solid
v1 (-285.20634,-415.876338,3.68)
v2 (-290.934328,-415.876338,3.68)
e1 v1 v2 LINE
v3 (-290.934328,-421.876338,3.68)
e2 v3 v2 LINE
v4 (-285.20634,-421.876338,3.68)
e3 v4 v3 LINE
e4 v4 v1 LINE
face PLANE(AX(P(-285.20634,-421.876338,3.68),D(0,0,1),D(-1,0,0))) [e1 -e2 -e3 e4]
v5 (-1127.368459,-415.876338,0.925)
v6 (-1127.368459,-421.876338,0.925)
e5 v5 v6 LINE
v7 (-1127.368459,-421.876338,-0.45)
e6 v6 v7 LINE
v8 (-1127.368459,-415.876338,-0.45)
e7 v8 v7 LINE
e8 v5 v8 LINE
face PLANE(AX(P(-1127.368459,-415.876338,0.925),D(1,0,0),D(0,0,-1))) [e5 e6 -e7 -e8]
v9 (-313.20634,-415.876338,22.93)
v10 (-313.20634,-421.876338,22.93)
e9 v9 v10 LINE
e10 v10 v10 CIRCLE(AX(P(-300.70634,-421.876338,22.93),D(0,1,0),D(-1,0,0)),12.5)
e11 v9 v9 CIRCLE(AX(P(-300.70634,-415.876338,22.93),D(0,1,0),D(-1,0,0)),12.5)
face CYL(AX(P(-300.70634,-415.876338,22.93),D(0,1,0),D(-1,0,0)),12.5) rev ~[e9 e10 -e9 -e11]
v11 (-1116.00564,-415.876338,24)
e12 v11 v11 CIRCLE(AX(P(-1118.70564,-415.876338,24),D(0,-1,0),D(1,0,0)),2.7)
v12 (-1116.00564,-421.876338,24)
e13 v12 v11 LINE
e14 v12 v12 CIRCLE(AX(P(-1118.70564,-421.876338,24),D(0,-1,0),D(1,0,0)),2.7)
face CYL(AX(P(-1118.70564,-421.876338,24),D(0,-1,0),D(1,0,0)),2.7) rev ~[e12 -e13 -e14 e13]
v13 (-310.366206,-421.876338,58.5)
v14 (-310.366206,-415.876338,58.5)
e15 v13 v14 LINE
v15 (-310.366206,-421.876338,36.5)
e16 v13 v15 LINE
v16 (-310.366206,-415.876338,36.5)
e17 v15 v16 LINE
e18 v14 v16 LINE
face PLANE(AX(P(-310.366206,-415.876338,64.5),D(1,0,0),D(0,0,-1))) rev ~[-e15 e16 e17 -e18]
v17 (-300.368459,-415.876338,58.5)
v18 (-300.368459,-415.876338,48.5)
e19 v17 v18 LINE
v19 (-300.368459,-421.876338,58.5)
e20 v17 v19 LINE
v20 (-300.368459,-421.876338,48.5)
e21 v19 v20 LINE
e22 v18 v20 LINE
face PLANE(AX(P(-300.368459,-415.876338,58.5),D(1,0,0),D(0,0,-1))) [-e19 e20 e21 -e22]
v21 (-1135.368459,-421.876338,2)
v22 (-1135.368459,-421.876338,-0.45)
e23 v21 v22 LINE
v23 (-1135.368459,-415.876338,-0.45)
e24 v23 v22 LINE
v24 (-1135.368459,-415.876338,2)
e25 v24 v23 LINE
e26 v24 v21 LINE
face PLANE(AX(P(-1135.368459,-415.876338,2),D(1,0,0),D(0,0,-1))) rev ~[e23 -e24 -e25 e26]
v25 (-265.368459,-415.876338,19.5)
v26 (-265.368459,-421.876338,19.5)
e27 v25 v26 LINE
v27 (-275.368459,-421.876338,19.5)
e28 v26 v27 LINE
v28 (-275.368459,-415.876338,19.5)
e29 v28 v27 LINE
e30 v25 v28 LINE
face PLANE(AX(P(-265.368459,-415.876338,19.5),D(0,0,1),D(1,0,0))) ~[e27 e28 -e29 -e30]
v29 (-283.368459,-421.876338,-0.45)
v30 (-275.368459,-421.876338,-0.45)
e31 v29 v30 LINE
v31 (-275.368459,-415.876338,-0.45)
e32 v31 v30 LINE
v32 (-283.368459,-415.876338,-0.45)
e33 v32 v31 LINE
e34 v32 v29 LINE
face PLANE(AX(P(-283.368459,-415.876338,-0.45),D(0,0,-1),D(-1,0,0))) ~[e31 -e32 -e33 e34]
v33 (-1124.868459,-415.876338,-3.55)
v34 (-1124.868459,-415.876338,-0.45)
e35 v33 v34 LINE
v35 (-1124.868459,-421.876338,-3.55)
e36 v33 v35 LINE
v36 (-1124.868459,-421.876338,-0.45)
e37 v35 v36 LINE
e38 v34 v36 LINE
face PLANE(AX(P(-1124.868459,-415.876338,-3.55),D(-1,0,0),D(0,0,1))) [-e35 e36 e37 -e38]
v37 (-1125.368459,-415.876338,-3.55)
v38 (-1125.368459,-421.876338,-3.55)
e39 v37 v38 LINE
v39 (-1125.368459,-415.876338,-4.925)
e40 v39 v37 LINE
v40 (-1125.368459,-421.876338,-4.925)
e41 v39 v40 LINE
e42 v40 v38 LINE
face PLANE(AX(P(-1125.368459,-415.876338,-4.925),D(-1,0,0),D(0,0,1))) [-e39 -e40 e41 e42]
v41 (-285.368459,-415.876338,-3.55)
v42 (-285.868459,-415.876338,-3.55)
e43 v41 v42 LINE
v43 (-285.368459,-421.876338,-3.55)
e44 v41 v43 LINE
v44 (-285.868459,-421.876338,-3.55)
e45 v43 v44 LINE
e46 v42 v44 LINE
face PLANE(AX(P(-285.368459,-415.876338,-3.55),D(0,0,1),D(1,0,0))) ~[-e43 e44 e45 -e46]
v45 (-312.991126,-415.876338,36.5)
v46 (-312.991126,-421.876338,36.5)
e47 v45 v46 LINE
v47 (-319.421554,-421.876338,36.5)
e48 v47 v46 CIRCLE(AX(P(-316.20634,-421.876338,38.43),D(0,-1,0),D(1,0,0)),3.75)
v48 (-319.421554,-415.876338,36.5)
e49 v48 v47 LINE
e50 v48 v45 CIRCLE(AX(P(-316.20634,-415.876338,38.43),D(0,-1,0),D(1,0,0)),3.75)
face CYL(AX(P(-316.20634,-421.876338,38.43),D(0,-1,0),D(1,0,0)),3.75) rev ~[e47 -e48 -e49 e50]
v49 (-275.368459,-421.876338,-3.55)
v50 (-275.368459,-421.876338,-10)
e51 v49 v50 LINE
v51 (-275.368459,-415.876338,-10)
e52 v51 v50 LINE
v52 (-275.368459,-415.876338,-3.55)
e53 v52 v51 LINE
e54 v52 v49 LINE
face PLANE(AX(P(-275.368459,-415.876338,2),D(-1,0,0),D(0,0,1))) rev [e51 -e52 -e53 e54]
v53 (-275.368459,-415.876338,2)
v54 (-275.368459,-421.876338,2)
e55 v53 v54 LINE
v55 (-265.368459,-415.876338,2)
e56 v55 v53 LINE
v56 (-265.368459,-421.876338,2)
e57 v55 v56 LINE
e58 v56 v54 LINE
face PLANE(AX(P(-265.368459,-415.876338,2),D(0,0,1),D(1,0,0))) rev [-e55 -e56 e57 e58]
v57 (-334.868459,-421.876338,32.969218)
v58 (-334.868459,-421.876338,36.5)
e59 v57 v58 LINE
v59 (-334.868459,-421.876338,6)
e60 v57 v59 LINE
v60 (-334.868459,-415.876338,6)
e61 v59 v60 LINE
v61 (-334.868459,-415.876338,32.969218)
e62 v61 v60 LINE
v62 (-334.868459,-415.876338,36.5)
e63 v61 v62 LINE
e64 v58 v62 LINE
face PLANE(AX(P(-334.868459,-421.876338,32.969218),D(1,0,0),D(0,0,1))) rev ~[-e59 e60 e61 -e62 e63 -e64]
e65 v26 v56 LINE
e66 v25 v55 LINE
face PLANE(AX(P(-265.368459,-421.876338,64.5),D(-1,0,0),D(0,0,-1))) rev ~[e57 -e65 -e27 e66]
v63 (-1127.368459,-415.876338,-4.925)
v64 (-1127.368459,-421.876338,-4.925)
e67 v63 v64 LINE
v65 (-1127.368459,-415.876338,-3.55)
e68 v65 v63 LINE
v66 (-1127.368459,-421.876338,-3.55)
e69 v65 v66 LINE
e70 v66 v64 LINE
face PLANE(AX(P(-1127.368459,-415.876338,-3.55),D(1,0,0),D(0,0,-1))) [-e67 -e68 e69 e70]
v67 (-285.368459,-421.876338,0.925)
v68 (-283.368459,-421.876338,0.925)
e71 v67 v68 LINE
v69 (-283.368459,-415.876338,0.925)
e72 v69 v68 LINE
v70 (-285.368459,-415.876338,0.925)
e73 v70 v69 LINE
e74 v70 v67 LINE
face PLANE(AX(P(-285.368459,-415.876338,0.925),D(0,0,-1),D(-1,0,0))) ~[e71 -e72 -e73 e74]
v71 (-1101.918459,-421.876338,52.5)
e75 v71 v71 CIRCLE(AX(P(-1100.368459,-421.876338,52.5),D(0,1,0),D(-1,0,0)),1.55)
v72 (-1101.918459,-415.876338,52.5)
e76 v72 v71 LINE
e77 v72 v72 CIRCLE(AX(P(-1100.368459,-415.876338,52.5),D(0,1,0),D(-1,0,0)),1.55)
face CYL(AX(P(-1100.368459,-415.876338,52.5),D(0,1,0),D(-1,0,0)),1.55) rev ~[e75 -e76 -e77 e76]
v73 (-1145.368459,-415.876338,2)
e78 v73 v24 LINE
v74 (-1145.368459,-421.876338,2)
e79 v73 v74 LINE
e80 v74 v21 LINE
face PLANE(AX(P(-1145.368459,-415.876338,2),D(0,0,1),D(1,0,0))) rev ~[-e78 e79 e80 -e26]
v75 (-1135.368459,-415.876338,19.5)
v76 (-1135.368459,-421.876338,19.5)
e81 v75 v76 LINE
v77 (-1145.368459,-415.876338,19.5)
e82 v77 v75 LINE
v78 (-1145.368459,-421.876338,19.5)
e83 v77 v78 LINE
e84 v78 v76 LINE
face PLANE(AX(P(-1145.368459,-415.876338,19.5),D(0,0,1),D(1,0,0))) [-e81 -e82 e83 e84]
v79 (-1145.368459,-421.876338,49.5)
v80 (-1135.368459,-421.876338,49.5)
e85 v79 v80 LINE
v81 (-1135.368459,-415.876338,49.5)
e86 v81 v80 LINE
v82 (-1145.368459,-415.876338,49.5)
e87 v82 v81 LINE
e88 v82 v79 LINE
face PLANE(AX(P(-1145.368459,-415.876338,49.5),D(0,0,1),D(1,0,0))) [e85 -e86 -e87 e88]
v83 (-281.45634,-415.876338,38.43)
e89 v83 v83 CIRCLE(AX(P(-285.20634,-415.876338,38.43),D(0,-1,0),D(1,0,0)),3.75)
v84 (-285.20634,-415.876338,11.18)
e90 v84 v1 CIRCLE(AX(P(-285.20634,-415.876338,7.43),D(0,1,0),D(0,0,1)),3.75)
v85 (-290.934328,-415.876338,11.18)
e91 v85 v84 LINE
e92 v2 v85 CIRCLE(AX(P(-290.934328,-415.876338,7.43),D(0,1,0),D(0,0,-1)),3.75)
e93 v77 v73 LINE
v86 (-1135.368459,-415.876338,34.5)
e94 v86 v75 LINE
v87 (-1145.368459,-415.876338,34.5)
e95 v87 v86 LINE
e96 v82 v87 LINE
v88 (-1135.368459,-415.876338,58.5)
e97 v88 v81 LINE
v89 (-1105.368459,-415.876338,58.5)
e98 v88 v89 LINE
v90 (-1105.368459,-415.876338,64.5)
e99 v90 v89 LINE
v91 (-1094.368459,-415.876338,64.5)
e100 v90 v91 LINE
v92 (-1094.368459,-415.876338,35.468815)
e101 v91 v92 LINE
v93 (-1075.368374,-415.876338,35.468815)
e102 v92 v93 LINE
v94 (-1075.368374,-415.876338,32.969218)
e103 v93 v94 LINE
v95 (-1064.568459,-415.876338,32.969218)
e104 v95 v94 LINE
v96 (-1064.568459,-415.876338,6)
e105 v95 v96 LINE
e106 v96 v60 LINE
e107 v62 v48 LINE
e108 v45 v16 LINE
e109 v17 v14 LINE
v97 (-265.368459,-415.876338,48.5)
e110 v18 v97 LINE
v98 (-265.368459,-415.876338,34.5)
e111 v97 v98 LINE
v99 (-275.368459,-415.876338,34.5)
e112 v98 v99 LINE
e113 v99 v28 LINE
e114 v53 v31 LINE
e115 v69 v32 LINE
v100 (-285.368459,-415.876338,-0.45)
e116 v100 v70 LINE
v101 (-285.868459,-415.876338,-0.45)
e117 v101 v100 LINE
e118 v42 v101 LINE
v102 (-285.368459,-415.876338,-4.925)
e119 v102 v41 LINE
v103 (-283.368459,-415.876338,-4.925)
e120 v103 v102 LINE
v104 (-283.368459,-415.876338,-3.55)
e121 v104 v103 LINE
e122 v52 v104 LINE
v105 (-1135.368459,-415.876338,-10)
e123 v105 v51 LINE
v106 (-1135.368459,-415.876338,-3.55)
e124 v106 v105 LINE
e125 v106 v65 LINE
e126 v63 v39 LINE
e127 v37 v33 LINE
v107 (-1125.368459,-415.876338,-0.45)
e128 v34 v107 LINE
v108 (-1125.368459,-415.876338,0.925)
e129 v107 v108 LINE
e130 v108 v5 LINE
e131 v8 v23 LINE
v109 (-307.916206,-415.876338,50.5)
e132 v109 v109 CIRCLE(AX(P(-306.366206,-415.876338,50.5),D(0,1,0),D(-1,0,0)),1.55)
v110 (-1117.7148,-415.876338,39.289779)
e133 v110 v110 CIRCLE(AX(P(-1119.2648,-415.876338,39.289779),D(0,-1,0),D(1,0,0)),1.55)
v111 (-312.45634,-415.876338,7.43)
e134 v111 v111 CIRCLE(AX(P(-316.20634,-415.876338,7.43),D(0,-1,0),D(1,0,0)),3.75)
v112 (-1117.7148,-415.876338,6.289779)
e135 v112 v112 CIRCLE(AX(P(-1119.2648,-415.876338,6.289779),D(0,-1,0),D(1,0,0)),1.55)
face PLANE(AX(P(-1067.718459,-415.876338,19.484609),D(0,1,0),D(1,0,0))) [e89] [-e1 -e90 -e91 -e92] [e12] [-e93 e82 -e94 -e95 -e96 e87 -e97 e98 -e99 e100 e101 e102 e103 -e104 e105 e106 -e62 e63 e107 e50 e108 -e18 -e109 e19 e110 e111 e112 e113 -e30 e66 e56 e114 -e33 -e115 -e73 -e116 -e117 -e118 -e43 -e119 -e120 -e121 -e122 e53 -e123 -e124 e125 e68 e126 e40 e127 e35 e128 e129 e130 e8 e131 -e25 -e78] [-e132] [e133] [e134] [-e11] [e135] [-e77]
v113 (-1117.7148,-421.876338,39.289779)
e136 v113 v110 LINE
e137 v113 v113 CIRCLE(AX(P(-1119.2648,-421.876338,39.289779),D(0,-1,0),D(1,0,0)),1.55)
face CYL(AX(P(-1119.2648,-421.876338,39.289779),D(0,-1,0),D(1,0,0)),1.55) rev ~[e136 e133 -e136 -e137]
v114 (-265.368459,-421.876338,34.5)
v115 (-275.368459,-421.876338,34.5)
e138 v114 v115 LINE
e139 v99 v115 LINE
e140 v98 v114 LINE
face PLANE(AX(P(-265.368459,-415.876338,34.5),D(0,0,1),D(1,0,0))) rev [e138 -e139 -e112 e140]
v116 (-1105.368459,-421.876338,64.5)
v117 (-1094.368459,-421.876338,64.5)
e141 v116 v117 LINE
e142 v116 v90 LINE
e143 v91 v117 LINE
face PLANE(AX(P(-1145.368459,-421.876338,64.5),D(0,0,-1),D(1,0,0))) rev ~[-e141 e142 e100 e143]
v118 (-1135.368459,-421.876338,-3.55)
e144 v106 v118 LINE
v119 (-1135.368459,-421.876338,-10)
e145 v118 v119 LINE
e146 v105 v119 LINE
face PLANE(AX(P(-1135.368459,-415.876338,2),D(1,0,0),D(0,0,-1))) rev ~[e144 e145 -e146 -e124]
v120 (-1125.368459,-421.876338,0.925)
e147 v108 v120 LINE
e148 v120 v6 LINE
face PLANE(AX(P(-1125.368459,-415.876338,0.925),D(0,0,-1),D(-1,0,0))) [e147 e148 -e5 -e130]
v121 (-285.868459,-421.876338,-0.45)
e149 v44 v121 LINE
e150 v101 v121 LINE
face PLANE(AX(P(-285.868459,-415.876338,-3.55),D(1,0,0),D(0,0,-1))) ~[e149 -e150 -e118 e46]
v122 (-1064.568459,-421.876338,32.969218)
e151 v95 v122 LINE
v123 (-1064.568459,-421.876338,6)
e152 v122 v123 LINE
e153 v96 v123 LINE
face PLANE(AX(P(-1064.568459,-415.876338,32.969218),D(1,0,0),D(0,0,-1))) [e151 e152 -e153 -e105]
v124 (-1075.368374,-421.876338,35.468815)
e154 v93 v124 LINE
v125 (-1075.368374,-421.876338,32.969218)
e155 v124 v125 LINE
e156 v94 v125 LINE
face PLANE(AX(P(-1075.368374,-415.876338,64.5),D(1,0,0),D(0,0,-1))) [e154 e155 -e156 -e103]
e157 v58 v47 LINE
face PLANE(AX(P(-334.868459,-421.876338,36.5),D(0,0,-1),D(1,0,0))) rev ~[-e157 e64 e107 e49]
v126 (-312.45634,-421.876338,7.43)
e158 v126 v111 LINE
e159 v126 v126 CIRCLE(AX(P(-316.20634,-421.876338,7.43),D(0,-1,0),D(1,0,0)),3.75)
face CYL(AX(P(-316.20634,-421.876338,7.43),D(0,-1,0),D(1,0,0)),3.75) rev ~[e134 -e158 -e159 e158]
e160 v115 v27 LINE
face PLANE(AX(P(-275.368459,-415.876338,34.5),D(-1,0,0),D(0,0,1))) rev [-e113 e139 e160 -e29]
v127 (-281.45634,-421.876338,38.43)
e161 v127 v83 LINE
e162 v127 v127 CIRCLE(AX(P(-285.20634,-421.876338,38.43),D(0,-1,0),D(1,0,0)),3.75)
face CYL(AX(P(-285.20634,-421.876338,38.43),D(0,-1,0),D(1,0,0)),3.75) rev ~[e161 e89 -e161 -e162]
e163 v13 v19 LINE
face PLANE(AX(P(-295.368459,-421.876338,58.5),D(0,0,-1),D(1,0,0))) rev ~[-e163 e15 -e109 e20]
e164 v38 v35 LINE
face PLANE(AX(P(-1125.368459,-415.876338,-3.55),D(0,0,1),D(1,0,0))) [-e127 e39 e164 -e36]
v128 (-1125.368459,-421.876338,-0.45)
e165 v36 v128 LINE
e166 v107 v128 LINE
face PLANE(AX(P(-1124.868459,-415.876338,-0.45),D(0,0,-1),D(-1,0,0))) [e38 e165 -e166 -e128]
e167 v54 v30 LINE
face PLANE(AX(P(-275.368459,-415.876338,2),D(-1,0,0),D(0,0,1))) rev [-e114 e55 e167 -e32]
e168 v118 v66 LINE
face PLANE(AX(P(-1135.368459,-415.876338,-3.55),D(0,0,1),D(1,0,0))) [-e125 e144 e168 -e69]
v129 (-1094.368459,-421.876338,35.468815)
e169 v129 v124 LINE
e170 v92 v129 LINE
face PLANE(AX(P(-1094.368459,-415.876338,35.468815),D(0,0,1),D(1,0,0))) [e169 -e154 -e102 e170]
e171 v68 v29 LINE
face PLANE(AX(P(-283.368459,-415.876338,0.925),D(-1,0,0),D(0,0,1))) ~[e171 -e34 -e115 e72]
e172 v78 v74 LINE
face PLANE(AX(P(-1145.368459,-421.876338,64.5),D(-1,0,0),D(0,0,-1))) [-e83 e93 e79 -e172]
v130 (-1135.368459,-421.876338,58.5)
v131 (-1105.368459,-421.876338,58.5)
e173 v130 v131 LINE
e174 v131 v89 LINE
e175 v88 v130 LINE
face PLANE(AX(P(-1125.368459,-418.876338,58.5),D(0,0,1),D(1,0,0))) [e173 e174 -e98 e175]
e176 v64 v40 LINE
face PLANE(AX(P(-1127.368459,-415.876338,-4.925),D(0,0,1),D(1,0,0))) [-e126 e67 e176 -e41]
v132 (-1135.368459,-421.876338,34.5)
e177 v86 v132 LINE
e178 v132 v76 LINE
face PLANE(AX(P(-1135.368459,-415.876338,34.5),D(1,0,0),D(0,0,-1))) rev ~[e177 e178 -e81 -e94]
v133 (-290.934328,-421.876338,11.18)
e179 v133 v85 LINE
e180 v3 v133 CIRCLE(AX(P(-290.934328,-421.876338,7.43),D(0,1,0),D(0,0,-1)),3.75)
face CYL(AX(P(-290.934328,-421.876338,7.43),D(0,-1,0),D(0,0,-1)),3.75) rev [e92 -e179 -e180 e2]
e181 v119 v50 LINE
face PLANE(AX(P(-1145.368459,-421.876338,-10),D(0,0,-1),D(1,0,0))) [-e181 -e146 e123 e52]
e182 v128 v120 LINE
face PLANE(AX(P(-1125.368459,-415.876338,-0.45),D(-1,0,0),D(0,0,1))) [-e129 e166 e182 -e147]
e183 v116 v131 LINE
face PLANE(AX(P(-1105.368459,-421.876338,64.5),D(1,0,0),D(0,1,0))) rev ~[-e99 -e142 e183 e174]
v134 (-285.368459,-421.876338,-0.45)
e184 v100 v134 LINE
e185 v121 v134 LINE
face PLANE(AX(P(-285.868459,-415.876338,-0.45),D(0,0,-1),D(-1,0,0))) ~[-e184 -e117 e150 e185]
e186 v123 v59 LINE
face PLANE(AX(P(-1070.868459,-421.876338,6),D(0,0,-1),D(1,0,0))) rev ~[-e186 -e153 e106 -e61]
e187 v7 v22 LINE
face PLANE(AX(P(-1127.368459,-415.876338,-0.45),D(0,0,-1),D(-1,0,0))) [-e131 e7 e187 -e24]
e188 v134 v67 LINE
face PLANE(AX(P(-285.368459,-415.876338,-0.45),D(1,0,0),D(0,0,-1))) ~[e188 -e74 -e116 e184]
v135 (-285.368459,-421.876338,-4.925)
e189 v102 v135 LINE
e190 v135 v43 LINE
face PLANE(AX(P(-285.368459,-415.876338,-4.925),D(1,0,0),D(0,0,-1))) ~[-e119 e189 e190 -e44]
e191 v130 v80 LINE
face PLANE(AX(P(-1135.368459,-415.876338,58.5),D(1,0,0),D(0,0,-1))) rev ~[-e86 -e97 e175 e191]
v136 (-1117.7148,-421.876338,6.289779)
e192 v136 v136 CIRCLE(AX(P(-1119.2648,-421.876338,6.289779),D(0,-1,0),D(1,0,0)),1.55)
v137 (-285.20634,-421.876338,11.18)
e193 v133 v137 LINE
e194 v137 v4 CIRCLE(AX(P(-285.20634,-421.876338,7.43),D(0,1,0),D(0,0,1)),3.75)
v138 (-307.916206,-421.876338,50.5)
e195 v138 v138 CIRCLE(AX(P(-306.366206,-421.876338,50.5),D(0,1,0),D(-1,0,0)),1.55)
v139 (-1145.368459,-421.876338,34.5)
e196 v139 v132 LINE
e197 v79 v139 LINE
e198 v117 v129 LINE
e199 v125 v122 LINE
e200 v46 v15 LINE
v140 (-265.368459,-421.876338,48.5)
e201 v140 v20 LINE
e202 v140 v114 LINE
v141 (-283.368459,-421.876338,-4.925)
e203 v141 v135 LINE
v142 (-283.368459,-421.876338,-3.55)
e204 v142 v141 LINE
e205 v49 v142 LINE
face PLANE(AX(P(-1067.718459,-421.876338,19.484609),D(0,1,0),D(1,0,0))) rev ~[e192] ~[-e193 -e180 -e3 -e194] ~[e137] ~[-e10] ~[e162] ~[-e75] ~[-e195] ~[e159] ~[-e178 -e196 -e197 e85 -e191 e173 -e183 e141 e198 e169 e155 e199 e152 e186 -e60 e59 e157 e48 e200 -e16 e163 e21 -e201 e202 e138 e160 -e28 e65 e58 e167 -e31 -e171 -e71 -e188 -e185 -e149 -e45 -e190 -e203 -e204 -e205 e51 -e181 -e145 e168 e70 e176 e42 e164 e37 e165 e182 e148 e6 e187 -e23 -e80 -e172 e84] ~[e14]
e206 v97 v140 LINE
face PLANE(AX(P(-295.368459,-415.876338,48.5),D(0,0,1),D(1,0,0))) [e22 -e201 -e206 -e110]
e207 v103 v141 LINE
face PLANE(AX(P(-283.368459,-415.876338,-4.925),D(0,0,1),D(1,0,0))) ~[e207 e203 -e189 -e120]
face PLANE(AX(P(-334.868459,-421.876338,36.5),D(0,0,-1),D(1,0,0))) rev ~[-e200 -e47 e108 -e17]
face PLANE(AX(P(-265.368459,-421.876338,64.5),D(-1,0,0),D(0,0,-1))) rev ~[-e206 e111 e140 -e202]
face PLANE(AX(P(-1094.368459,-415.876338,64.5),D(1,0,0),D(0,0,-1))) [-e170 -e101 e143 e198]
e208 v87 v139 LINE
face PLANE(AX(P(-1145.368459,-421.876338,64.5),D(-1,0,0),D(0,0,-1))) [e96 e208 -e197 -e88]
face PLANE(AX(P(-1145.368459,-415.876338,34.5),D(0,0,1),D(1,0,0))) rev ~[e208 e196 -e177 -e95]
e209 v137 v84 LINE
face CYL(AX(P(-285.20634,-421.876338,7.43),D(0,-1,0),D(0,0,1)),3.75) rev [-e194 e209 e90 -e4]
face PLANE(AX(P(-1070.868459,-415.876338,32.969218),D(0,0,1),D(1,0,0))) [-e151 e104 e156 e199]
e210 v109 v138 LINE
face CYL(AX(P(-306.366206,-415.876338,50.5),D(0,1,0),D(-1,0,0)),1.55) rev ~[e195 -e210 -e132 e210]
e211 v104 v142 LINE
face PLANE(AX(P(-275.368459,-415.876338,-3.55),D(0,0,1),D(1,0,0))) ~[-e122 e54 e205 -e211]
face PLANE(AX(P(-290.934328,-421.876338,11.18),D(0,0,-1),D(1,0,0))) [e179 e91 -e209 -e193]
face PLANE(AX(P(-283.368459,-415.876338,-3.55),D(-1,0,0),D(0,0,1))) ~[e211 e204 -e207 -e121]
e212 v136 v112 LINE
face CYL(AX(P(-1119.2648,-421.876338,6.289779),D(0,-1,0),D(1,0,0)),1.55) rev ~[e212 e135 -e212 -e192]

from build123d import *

# Parameters (mm, degrees)
DODANIE_WYCI_GNI_CIE2_DEPTH      = 3
DODANIE_WYCI_GNI_CIE2_DEPTH_BACK = 3
SZKIC1_W                         = 880
SZKIC1_H                         = 74.5
SZKIC1_W_2                       = 736
SZKIC1_H_2                       = 28
SZKIC2_W                         = 40
SZKIC2_H                         = 6
WYTNIJ_WYCI_GNI_CIE1_DEPTH       = 6
SZYK_LINIOWY1_COUNT              = 13
SZYK_LINIOWY1_PITCH              = 91
WYTNIJ_WYCI_GNI_CIE2_DEPTH       = 6
SZKIC4_W                         = 10
SZKIC4_H                         = 15
SZKIC4_H_2                       = 9
SZKIC4_H_3                       = 12
WYTNIJ_WYCI_GNI_CIE3_DEPTH       = 6
WYTNIJ_WYCI_GNI_CIE4_DEPTH       = 6
SZKIC8_R                         = 1.55
SZKIC8_R_2                       = 2.7
WYTNIJ_WYCI_GNI_CIE5_DEPTH       = 6
SZKIC9_R                         = 12.5
WYTNIJ_WYCI_GNI_CIE6_DEPTH       = 6
SZKIC13_W                        = 30
SZKIC13_H                        = 16
WYTNIJ_WYCI_GNI_CIE8_DEPTH       = 6
SZYK_LINIOWY3_COUNT              = 2
SZYK_LINIOWY3_PITCH              = 91
SZYK_LINIOWY3_COUNT_DIR2         = 3
SZYK_LINIOWY3_PITCH_DIR2         = 273
SZKIC15_W                        = 765.002168891
SZKIC15_H                        = 31.530782264
WYTNIJ_WYCI_GNI_CIE9_DEPTH       = 10
SZKIC16_R                        = 1.55
WYTNIJ_WYCI_GNI_CIE10_DEPTH      = 10
SZKIC17_W                        = 24
SZKIC17_H                        = 29.031184719
WYTNIJ_WYCI_GNI_CIE11_DEPTH      = 6
SZKIC20_W                        = 5
SZKIC20_H                        = 10
DODANIE_WYCI_GNI_CIE3_DEPTH      = 6
SZKIC18_W                        = 24.502253475
SZKIC18_H                        = 3.530782264
DODANIE_WYCI_GNI_CIE4_DEPTH      = 6
SZKIC21_W                        = 6.3
SZKIC21_H                        = 26.969217736
DODANIE_WYCI_GNI_CIE5_DEPTH      = 6
SZKIC22_W                        = 10
SZKIC22_H                        = 10
WYTNIJ_WYCI_GNI_CIE12_DEPTH      = 10
SZKIC11_R                        = 3.75
WYTNIJ_WYCI_GNI_CIE7_DEPTH       = 6


with BuildPart() as part:
    # Szkic1 → Dodanie-wyciągnięcie2 (new, two sides: drawn at the far end of the back side and taken through both)
    with BuildSketch(Plane(origin=(0, -418.87633849, -418.87633849), x_dir=(1, 0, 0), z_dir=(0, 1, 0)).offset(-DODANIE_WYCI_GNI_CIE2_DEPTH_BACK)):
        with Locations((-705.368459045, -446.12633849)):
            Rectangle(SZKIC1_W, SZKIC1_H)
        with Locations((-702.868459045, -438.87633849)):
            Rectangle(SZKIC1_W_2, SZKIC1_H_2, mode=Mode.SUBTRACT)
    extrude(amount=DODANIE_WYCI_GNI_CIE2_DEPTH + DODANIE_WYCI_GNI_CIE2_DEPTH_BACK)

    # Szkic2 → Wytnij-wyciągnięcie1 (cut)
    with BuildSketch(Plane.XY.offset(64.5)):
        with Locations((-1125.368459045, -418.87633849)):
            Rectangle(SZKIC2_W, SZKIC2_H)
    wytnij_wyci_gni_cie1 = extrude(amount=-WYTNIJ_WYCI_GNI_CIE1_DEPTH, mode=Mode.SUBTRACT)

    # Szyk liniowy1: Wytnij-wyciągnięcie1 ×13
    with Locations(*[(i * SZYK_LINIOWY1_PITCH, 0, 0) for i in range(1, SZYK_LINIOWY1_COUNT)]):
        add(wytnij_wyci_gni_cie1, mode=Mode.SUBTRACT)

    # Szkic3 → Wytnij-wyciągnięcie2 (cut)
    with BuildSketch(Plane(origin=(0, -415.87633849, 0), x_dir=(1, 0, 0), z_dir=(0, 1, 0))):
        Polygon((-1032.818459045, -58.5), (-1035.918459045, -58.5), (-1035.918459045, -54.5), (-1037.293459045, -54.5), (-1037.293459045, -52.5), (-1035.918459045, -52.5), (-1035.918459045, -52), (-1032.818459045, -52), (-1032.818459045, -52.5), (-1031.443459045, -52.5), (-1031.443459045, -54.5), (-1032.818459045, -54.5), align=None)
    wytnij_wyci_gni_cie2 = extrude(amount=-WYTNIJ_WYCI_GNI_CIE2_DEPTH, mode=Mode.SUBTRACT)

    # Szkic4 → Wytnij-wyciągnięcie3 (cut)
    with BuildSketch(Plane(origin=(0, -415.87633849, 0), x_dir=(1, 0, 0), z_dir=(0, 1, 0))):
        with Locations((-1140.368459045, -27)):
            Rectangle(SZKIC4_W, SZKIC4_H)
        with Locations((-1140.368459045, -54)):
            Rectangle(SZKIC4_W, SZKIC4_H_2)
        with Locations((-1140.368459045, 4)):
            Rectangle(SZKIC4_W, SZKIC4_H_3)
    wytnij_wyci_gni_cie3 = extrude(amount=-WYTNIJ_WYCI_GNI_CIE3_DEPTH, mode=Mode.SUBTRACT)

    # Szkic5 → Wytnij-wyciągnięcie4 (cut)
    with BuildSketch(Plane(origin=(0, -415.87633849, 0), x_dir=(1, 0, 0), z_dir=(0, 1, 0))):
        Polygon((-1135.368459045, 3.55), (-1127.368459045, 3.55), (-1127.368459045, 4.925), (-1125.368459045, 4.925), (-1125.368459045, 3.55), (-1124.868459045, 3.55), (-1124.868459045, 0.45), (-1125.368459045, 0.45), (-1125.368459045, -0.925), (-1127.368459045, -0.925), (-1127.368459045, 0.45), (-1135.368459045, 0.45), align=None)
    wytnij_wyci_gni_cie4 = extrude(amount=-WYTNIJ_WYCI_GNI_CIE4_DEPTH, mode=Mode.SUBTRACT)

    # Lustro1: Wytnij-wyciągnięcie3, Wytnij-wyciągnięcie4 across plane
    add(wytnij_wyci_gni_cie3.mirror(Plane.ZY.offset(705.368459045)), mode=Mode.SUBTRACT)
    add(wytnij_wyci_gni_cie4.mirror(Plane.ZY.offset(705.368459045)), mode=Mode.SUBTRACT)

    # Szkic8 → Wytnij-wyciągnięcie5 (cut)
    with BuildSketch(Plane.XZ.offset(421.87633849)):
        with Locations((-1119.26479978, 39.289778966)):
            Circle(SZKIC8_R)
        with Locations((-1119.26479978, 6.289778966)):
            Circle(SZKIC8_R)
        with Locations((-1118.705640448, 24)):
            Circle(SZKIC8_R_2)
    extrude(amount=-WYTNIJ_WYCI_GNI_CIE5_DEPTH, mode=Mode.SUBTRACT)

    # Szkic9 → Wytnij-wyciągnięcie6 (cut)
    with BuildSketch(Plane(origin=(0, -415.87633849, 0), x_dir=(1, 0, 0), z_dir=(0, 1, 0))):
        with Locations((-300.706340265, -22.93)):
            Circle(SZKIC9_R)
    extrude(amount=-WYTNIJ_WYCI_GNI_CIE6_DEPTH, mode=Mode.SUBTRACT)

    # Szkic13 → Wytnij-wyciągnięcie8 (cut)
    with BuildSketch(Plane(origin=(0, -415.87633849, 0), x_dir=(1, 0, 0), z_dir=(0, 1, 0))):
        with Locations((-280.368459045, -56.5)):
            Rectangle(SZKIC13_W, SZKIC13_H)
    extrude(amount=-WYTNIJ_WYCI_GNI_CIE8_DEPTH, mode=Mode.SUBTRACT)

    # Szyk liniowy3: Wytnij-wyci_gni_cie2 2 × 3
    with Locations(*[Vector(1, 0, 0) * (i * SZYK_LINIOWY3_PITCH) + Vector(1, 0, 0) * (j * SZYK_LINIOWY3_PITCH_DIR2) for i in range(SZYK_LINIOWY3_COUNT) for j in range(SZYK_LINIOWY3_COUNT_DIR2) if (i, j) != (0, 0)]):
        add(wytnij_wyci_gni_cie2, mode=Mode.SUBTRACT)

    # Szkic15 → Wytnij-wyciągnięcie9 (cut)
    with BuildSketch(Plane(origin=(0, -415.87633849, 0), x_dir=(1, 0, 0), z_dir=(0, 1, 0))):
        with Locations((-692.867290015, -48.734608868)):
            Rectangle(SZKIC15_W, SZKIC15_H)
    extrude(amount=-WYTNIJ_WYCI_GNI_CIE9_DEPTH, mode=Mode.SUBTRACT)

    # Szkic16 → Wytnij-wyciągnięcie10 (cut)
    with BuildSketch(Plane(origin=(0, -415.87633849, 0), x_dir=(1, 0, 0), z_dir=(0, 1, 0))):
        with Locations((-306.36620557, -50.5)):
            Circle(SZKIC16_R)
        with Locations((-1100.368459045, -52.5)):
            Circle(SZKIC16_R)
    extrude(amount=-WYTNIJ_WYCI_GNI_CIE10_DEPTH, mode=Mode.SUBTRACT)

    # Szkic17 → Wytnij-wyciągnięcie11 (cut)
    with BuildSketch(Plane(origin=(0, -415.87633849, 0), x_dir=(1, 0, 0), z_dir=(0, 1, 0))):
        with Locations((-1082.368459045, -49.984407641)):
            Rectangle(SZKIC17_W, SZKIC17_H)
    extrude(amount=-WYTNIJ_WYCI_GNI_CIE11_DEPTH, mode=Mode.SUBTRACT)

    # Szkic20 → Dodanie-wyciągnięcie3 (add)
    with BuildSketch(Plane.XZ.offset(421.87633849)):
        with Locations((-292.868459045, 53.5)):
            Rectangle(SZKIC20_W, SZKIC20_H)
    extrude(amount=-DODANIE_WYCI_GNI_CIE3_DEPTH)

    # Szkic18 → Dodanie-wyciągnięcie4 (add)
    with BuildSketch(Plane.XZ.offset(421.87633849)):
        with Locations((-322.617332308, 34.734608868)):
            Rectangle(SZKIC18_W, SZKIC18_H)
    extrude(amount=-DODANIE_WYCI_GNI_CIE4_DEPTH)

    # Szkic21 → Dodanie-wyciągnięcie5 (add)
    with BuildSketch(Plane(origin=(0, -415.87633849, 0), x_dir=(1, 0, 0), z_dir=(0, 1, 0))):
        with Locations((-1067.718459045, -19.484608868)):
            Rectangle(SZKIC21_W, SZKIC21_H)
    extrude(amount=-DODANIE_WYCI_GNI_CIE5_DEPTH)

    # Szkic22 → Wytnij-wyciągnięcie12 (cut)
    with BuildSketch(Plane(origin=(0, -415.87633849, 0), x_dir=(1, 0, 0), z_dir=(0, 1, 0))):
        with Locations((-295.368459045, -53.5)):
            Rectangle(SZKIC22_W, SZKIC22_H)
    extrude(amount=-WYTNIJ_WYCI_GNI_CIE12_DEPTH, mode=Mode.SUBTRACT)

    # Szkic11 → Wytnij-wyciągnięcie7 (cut)
    with BuildSketch(Plane.XZ.offset(421.87633849)):
        with Locations((-285.206340265, 38.43)):
            Circle(SZKIC11_R)
        with Locations((-316.206340265, 38.43)):
            Circle(SZKIC11_R)
        with Locations((-316.206340265, 7.43)):
            Circle(SZKIC11_R)
        with BuildLine():
            Line((-285.206340265, 3.68), (-290.934328079, 3.68))
            ThreePointArc((-290.934328079, 3.68), (-294.684328079, 7.43), (-290.934328079, 11.18))
            Line((-290.934328079, 11.18), (-285.206340265, 11.18))
            ThreePointArc((-285.206340265, 11.18), (-281.456340265, 7.43), (-285.206340265, 3.68))
        make_face()
    extrude(amount=-WYTNIJ_WYCI_GNI_CIE7_DEPTH, mode=Mode.SUBTRACT)


solid = part.part
